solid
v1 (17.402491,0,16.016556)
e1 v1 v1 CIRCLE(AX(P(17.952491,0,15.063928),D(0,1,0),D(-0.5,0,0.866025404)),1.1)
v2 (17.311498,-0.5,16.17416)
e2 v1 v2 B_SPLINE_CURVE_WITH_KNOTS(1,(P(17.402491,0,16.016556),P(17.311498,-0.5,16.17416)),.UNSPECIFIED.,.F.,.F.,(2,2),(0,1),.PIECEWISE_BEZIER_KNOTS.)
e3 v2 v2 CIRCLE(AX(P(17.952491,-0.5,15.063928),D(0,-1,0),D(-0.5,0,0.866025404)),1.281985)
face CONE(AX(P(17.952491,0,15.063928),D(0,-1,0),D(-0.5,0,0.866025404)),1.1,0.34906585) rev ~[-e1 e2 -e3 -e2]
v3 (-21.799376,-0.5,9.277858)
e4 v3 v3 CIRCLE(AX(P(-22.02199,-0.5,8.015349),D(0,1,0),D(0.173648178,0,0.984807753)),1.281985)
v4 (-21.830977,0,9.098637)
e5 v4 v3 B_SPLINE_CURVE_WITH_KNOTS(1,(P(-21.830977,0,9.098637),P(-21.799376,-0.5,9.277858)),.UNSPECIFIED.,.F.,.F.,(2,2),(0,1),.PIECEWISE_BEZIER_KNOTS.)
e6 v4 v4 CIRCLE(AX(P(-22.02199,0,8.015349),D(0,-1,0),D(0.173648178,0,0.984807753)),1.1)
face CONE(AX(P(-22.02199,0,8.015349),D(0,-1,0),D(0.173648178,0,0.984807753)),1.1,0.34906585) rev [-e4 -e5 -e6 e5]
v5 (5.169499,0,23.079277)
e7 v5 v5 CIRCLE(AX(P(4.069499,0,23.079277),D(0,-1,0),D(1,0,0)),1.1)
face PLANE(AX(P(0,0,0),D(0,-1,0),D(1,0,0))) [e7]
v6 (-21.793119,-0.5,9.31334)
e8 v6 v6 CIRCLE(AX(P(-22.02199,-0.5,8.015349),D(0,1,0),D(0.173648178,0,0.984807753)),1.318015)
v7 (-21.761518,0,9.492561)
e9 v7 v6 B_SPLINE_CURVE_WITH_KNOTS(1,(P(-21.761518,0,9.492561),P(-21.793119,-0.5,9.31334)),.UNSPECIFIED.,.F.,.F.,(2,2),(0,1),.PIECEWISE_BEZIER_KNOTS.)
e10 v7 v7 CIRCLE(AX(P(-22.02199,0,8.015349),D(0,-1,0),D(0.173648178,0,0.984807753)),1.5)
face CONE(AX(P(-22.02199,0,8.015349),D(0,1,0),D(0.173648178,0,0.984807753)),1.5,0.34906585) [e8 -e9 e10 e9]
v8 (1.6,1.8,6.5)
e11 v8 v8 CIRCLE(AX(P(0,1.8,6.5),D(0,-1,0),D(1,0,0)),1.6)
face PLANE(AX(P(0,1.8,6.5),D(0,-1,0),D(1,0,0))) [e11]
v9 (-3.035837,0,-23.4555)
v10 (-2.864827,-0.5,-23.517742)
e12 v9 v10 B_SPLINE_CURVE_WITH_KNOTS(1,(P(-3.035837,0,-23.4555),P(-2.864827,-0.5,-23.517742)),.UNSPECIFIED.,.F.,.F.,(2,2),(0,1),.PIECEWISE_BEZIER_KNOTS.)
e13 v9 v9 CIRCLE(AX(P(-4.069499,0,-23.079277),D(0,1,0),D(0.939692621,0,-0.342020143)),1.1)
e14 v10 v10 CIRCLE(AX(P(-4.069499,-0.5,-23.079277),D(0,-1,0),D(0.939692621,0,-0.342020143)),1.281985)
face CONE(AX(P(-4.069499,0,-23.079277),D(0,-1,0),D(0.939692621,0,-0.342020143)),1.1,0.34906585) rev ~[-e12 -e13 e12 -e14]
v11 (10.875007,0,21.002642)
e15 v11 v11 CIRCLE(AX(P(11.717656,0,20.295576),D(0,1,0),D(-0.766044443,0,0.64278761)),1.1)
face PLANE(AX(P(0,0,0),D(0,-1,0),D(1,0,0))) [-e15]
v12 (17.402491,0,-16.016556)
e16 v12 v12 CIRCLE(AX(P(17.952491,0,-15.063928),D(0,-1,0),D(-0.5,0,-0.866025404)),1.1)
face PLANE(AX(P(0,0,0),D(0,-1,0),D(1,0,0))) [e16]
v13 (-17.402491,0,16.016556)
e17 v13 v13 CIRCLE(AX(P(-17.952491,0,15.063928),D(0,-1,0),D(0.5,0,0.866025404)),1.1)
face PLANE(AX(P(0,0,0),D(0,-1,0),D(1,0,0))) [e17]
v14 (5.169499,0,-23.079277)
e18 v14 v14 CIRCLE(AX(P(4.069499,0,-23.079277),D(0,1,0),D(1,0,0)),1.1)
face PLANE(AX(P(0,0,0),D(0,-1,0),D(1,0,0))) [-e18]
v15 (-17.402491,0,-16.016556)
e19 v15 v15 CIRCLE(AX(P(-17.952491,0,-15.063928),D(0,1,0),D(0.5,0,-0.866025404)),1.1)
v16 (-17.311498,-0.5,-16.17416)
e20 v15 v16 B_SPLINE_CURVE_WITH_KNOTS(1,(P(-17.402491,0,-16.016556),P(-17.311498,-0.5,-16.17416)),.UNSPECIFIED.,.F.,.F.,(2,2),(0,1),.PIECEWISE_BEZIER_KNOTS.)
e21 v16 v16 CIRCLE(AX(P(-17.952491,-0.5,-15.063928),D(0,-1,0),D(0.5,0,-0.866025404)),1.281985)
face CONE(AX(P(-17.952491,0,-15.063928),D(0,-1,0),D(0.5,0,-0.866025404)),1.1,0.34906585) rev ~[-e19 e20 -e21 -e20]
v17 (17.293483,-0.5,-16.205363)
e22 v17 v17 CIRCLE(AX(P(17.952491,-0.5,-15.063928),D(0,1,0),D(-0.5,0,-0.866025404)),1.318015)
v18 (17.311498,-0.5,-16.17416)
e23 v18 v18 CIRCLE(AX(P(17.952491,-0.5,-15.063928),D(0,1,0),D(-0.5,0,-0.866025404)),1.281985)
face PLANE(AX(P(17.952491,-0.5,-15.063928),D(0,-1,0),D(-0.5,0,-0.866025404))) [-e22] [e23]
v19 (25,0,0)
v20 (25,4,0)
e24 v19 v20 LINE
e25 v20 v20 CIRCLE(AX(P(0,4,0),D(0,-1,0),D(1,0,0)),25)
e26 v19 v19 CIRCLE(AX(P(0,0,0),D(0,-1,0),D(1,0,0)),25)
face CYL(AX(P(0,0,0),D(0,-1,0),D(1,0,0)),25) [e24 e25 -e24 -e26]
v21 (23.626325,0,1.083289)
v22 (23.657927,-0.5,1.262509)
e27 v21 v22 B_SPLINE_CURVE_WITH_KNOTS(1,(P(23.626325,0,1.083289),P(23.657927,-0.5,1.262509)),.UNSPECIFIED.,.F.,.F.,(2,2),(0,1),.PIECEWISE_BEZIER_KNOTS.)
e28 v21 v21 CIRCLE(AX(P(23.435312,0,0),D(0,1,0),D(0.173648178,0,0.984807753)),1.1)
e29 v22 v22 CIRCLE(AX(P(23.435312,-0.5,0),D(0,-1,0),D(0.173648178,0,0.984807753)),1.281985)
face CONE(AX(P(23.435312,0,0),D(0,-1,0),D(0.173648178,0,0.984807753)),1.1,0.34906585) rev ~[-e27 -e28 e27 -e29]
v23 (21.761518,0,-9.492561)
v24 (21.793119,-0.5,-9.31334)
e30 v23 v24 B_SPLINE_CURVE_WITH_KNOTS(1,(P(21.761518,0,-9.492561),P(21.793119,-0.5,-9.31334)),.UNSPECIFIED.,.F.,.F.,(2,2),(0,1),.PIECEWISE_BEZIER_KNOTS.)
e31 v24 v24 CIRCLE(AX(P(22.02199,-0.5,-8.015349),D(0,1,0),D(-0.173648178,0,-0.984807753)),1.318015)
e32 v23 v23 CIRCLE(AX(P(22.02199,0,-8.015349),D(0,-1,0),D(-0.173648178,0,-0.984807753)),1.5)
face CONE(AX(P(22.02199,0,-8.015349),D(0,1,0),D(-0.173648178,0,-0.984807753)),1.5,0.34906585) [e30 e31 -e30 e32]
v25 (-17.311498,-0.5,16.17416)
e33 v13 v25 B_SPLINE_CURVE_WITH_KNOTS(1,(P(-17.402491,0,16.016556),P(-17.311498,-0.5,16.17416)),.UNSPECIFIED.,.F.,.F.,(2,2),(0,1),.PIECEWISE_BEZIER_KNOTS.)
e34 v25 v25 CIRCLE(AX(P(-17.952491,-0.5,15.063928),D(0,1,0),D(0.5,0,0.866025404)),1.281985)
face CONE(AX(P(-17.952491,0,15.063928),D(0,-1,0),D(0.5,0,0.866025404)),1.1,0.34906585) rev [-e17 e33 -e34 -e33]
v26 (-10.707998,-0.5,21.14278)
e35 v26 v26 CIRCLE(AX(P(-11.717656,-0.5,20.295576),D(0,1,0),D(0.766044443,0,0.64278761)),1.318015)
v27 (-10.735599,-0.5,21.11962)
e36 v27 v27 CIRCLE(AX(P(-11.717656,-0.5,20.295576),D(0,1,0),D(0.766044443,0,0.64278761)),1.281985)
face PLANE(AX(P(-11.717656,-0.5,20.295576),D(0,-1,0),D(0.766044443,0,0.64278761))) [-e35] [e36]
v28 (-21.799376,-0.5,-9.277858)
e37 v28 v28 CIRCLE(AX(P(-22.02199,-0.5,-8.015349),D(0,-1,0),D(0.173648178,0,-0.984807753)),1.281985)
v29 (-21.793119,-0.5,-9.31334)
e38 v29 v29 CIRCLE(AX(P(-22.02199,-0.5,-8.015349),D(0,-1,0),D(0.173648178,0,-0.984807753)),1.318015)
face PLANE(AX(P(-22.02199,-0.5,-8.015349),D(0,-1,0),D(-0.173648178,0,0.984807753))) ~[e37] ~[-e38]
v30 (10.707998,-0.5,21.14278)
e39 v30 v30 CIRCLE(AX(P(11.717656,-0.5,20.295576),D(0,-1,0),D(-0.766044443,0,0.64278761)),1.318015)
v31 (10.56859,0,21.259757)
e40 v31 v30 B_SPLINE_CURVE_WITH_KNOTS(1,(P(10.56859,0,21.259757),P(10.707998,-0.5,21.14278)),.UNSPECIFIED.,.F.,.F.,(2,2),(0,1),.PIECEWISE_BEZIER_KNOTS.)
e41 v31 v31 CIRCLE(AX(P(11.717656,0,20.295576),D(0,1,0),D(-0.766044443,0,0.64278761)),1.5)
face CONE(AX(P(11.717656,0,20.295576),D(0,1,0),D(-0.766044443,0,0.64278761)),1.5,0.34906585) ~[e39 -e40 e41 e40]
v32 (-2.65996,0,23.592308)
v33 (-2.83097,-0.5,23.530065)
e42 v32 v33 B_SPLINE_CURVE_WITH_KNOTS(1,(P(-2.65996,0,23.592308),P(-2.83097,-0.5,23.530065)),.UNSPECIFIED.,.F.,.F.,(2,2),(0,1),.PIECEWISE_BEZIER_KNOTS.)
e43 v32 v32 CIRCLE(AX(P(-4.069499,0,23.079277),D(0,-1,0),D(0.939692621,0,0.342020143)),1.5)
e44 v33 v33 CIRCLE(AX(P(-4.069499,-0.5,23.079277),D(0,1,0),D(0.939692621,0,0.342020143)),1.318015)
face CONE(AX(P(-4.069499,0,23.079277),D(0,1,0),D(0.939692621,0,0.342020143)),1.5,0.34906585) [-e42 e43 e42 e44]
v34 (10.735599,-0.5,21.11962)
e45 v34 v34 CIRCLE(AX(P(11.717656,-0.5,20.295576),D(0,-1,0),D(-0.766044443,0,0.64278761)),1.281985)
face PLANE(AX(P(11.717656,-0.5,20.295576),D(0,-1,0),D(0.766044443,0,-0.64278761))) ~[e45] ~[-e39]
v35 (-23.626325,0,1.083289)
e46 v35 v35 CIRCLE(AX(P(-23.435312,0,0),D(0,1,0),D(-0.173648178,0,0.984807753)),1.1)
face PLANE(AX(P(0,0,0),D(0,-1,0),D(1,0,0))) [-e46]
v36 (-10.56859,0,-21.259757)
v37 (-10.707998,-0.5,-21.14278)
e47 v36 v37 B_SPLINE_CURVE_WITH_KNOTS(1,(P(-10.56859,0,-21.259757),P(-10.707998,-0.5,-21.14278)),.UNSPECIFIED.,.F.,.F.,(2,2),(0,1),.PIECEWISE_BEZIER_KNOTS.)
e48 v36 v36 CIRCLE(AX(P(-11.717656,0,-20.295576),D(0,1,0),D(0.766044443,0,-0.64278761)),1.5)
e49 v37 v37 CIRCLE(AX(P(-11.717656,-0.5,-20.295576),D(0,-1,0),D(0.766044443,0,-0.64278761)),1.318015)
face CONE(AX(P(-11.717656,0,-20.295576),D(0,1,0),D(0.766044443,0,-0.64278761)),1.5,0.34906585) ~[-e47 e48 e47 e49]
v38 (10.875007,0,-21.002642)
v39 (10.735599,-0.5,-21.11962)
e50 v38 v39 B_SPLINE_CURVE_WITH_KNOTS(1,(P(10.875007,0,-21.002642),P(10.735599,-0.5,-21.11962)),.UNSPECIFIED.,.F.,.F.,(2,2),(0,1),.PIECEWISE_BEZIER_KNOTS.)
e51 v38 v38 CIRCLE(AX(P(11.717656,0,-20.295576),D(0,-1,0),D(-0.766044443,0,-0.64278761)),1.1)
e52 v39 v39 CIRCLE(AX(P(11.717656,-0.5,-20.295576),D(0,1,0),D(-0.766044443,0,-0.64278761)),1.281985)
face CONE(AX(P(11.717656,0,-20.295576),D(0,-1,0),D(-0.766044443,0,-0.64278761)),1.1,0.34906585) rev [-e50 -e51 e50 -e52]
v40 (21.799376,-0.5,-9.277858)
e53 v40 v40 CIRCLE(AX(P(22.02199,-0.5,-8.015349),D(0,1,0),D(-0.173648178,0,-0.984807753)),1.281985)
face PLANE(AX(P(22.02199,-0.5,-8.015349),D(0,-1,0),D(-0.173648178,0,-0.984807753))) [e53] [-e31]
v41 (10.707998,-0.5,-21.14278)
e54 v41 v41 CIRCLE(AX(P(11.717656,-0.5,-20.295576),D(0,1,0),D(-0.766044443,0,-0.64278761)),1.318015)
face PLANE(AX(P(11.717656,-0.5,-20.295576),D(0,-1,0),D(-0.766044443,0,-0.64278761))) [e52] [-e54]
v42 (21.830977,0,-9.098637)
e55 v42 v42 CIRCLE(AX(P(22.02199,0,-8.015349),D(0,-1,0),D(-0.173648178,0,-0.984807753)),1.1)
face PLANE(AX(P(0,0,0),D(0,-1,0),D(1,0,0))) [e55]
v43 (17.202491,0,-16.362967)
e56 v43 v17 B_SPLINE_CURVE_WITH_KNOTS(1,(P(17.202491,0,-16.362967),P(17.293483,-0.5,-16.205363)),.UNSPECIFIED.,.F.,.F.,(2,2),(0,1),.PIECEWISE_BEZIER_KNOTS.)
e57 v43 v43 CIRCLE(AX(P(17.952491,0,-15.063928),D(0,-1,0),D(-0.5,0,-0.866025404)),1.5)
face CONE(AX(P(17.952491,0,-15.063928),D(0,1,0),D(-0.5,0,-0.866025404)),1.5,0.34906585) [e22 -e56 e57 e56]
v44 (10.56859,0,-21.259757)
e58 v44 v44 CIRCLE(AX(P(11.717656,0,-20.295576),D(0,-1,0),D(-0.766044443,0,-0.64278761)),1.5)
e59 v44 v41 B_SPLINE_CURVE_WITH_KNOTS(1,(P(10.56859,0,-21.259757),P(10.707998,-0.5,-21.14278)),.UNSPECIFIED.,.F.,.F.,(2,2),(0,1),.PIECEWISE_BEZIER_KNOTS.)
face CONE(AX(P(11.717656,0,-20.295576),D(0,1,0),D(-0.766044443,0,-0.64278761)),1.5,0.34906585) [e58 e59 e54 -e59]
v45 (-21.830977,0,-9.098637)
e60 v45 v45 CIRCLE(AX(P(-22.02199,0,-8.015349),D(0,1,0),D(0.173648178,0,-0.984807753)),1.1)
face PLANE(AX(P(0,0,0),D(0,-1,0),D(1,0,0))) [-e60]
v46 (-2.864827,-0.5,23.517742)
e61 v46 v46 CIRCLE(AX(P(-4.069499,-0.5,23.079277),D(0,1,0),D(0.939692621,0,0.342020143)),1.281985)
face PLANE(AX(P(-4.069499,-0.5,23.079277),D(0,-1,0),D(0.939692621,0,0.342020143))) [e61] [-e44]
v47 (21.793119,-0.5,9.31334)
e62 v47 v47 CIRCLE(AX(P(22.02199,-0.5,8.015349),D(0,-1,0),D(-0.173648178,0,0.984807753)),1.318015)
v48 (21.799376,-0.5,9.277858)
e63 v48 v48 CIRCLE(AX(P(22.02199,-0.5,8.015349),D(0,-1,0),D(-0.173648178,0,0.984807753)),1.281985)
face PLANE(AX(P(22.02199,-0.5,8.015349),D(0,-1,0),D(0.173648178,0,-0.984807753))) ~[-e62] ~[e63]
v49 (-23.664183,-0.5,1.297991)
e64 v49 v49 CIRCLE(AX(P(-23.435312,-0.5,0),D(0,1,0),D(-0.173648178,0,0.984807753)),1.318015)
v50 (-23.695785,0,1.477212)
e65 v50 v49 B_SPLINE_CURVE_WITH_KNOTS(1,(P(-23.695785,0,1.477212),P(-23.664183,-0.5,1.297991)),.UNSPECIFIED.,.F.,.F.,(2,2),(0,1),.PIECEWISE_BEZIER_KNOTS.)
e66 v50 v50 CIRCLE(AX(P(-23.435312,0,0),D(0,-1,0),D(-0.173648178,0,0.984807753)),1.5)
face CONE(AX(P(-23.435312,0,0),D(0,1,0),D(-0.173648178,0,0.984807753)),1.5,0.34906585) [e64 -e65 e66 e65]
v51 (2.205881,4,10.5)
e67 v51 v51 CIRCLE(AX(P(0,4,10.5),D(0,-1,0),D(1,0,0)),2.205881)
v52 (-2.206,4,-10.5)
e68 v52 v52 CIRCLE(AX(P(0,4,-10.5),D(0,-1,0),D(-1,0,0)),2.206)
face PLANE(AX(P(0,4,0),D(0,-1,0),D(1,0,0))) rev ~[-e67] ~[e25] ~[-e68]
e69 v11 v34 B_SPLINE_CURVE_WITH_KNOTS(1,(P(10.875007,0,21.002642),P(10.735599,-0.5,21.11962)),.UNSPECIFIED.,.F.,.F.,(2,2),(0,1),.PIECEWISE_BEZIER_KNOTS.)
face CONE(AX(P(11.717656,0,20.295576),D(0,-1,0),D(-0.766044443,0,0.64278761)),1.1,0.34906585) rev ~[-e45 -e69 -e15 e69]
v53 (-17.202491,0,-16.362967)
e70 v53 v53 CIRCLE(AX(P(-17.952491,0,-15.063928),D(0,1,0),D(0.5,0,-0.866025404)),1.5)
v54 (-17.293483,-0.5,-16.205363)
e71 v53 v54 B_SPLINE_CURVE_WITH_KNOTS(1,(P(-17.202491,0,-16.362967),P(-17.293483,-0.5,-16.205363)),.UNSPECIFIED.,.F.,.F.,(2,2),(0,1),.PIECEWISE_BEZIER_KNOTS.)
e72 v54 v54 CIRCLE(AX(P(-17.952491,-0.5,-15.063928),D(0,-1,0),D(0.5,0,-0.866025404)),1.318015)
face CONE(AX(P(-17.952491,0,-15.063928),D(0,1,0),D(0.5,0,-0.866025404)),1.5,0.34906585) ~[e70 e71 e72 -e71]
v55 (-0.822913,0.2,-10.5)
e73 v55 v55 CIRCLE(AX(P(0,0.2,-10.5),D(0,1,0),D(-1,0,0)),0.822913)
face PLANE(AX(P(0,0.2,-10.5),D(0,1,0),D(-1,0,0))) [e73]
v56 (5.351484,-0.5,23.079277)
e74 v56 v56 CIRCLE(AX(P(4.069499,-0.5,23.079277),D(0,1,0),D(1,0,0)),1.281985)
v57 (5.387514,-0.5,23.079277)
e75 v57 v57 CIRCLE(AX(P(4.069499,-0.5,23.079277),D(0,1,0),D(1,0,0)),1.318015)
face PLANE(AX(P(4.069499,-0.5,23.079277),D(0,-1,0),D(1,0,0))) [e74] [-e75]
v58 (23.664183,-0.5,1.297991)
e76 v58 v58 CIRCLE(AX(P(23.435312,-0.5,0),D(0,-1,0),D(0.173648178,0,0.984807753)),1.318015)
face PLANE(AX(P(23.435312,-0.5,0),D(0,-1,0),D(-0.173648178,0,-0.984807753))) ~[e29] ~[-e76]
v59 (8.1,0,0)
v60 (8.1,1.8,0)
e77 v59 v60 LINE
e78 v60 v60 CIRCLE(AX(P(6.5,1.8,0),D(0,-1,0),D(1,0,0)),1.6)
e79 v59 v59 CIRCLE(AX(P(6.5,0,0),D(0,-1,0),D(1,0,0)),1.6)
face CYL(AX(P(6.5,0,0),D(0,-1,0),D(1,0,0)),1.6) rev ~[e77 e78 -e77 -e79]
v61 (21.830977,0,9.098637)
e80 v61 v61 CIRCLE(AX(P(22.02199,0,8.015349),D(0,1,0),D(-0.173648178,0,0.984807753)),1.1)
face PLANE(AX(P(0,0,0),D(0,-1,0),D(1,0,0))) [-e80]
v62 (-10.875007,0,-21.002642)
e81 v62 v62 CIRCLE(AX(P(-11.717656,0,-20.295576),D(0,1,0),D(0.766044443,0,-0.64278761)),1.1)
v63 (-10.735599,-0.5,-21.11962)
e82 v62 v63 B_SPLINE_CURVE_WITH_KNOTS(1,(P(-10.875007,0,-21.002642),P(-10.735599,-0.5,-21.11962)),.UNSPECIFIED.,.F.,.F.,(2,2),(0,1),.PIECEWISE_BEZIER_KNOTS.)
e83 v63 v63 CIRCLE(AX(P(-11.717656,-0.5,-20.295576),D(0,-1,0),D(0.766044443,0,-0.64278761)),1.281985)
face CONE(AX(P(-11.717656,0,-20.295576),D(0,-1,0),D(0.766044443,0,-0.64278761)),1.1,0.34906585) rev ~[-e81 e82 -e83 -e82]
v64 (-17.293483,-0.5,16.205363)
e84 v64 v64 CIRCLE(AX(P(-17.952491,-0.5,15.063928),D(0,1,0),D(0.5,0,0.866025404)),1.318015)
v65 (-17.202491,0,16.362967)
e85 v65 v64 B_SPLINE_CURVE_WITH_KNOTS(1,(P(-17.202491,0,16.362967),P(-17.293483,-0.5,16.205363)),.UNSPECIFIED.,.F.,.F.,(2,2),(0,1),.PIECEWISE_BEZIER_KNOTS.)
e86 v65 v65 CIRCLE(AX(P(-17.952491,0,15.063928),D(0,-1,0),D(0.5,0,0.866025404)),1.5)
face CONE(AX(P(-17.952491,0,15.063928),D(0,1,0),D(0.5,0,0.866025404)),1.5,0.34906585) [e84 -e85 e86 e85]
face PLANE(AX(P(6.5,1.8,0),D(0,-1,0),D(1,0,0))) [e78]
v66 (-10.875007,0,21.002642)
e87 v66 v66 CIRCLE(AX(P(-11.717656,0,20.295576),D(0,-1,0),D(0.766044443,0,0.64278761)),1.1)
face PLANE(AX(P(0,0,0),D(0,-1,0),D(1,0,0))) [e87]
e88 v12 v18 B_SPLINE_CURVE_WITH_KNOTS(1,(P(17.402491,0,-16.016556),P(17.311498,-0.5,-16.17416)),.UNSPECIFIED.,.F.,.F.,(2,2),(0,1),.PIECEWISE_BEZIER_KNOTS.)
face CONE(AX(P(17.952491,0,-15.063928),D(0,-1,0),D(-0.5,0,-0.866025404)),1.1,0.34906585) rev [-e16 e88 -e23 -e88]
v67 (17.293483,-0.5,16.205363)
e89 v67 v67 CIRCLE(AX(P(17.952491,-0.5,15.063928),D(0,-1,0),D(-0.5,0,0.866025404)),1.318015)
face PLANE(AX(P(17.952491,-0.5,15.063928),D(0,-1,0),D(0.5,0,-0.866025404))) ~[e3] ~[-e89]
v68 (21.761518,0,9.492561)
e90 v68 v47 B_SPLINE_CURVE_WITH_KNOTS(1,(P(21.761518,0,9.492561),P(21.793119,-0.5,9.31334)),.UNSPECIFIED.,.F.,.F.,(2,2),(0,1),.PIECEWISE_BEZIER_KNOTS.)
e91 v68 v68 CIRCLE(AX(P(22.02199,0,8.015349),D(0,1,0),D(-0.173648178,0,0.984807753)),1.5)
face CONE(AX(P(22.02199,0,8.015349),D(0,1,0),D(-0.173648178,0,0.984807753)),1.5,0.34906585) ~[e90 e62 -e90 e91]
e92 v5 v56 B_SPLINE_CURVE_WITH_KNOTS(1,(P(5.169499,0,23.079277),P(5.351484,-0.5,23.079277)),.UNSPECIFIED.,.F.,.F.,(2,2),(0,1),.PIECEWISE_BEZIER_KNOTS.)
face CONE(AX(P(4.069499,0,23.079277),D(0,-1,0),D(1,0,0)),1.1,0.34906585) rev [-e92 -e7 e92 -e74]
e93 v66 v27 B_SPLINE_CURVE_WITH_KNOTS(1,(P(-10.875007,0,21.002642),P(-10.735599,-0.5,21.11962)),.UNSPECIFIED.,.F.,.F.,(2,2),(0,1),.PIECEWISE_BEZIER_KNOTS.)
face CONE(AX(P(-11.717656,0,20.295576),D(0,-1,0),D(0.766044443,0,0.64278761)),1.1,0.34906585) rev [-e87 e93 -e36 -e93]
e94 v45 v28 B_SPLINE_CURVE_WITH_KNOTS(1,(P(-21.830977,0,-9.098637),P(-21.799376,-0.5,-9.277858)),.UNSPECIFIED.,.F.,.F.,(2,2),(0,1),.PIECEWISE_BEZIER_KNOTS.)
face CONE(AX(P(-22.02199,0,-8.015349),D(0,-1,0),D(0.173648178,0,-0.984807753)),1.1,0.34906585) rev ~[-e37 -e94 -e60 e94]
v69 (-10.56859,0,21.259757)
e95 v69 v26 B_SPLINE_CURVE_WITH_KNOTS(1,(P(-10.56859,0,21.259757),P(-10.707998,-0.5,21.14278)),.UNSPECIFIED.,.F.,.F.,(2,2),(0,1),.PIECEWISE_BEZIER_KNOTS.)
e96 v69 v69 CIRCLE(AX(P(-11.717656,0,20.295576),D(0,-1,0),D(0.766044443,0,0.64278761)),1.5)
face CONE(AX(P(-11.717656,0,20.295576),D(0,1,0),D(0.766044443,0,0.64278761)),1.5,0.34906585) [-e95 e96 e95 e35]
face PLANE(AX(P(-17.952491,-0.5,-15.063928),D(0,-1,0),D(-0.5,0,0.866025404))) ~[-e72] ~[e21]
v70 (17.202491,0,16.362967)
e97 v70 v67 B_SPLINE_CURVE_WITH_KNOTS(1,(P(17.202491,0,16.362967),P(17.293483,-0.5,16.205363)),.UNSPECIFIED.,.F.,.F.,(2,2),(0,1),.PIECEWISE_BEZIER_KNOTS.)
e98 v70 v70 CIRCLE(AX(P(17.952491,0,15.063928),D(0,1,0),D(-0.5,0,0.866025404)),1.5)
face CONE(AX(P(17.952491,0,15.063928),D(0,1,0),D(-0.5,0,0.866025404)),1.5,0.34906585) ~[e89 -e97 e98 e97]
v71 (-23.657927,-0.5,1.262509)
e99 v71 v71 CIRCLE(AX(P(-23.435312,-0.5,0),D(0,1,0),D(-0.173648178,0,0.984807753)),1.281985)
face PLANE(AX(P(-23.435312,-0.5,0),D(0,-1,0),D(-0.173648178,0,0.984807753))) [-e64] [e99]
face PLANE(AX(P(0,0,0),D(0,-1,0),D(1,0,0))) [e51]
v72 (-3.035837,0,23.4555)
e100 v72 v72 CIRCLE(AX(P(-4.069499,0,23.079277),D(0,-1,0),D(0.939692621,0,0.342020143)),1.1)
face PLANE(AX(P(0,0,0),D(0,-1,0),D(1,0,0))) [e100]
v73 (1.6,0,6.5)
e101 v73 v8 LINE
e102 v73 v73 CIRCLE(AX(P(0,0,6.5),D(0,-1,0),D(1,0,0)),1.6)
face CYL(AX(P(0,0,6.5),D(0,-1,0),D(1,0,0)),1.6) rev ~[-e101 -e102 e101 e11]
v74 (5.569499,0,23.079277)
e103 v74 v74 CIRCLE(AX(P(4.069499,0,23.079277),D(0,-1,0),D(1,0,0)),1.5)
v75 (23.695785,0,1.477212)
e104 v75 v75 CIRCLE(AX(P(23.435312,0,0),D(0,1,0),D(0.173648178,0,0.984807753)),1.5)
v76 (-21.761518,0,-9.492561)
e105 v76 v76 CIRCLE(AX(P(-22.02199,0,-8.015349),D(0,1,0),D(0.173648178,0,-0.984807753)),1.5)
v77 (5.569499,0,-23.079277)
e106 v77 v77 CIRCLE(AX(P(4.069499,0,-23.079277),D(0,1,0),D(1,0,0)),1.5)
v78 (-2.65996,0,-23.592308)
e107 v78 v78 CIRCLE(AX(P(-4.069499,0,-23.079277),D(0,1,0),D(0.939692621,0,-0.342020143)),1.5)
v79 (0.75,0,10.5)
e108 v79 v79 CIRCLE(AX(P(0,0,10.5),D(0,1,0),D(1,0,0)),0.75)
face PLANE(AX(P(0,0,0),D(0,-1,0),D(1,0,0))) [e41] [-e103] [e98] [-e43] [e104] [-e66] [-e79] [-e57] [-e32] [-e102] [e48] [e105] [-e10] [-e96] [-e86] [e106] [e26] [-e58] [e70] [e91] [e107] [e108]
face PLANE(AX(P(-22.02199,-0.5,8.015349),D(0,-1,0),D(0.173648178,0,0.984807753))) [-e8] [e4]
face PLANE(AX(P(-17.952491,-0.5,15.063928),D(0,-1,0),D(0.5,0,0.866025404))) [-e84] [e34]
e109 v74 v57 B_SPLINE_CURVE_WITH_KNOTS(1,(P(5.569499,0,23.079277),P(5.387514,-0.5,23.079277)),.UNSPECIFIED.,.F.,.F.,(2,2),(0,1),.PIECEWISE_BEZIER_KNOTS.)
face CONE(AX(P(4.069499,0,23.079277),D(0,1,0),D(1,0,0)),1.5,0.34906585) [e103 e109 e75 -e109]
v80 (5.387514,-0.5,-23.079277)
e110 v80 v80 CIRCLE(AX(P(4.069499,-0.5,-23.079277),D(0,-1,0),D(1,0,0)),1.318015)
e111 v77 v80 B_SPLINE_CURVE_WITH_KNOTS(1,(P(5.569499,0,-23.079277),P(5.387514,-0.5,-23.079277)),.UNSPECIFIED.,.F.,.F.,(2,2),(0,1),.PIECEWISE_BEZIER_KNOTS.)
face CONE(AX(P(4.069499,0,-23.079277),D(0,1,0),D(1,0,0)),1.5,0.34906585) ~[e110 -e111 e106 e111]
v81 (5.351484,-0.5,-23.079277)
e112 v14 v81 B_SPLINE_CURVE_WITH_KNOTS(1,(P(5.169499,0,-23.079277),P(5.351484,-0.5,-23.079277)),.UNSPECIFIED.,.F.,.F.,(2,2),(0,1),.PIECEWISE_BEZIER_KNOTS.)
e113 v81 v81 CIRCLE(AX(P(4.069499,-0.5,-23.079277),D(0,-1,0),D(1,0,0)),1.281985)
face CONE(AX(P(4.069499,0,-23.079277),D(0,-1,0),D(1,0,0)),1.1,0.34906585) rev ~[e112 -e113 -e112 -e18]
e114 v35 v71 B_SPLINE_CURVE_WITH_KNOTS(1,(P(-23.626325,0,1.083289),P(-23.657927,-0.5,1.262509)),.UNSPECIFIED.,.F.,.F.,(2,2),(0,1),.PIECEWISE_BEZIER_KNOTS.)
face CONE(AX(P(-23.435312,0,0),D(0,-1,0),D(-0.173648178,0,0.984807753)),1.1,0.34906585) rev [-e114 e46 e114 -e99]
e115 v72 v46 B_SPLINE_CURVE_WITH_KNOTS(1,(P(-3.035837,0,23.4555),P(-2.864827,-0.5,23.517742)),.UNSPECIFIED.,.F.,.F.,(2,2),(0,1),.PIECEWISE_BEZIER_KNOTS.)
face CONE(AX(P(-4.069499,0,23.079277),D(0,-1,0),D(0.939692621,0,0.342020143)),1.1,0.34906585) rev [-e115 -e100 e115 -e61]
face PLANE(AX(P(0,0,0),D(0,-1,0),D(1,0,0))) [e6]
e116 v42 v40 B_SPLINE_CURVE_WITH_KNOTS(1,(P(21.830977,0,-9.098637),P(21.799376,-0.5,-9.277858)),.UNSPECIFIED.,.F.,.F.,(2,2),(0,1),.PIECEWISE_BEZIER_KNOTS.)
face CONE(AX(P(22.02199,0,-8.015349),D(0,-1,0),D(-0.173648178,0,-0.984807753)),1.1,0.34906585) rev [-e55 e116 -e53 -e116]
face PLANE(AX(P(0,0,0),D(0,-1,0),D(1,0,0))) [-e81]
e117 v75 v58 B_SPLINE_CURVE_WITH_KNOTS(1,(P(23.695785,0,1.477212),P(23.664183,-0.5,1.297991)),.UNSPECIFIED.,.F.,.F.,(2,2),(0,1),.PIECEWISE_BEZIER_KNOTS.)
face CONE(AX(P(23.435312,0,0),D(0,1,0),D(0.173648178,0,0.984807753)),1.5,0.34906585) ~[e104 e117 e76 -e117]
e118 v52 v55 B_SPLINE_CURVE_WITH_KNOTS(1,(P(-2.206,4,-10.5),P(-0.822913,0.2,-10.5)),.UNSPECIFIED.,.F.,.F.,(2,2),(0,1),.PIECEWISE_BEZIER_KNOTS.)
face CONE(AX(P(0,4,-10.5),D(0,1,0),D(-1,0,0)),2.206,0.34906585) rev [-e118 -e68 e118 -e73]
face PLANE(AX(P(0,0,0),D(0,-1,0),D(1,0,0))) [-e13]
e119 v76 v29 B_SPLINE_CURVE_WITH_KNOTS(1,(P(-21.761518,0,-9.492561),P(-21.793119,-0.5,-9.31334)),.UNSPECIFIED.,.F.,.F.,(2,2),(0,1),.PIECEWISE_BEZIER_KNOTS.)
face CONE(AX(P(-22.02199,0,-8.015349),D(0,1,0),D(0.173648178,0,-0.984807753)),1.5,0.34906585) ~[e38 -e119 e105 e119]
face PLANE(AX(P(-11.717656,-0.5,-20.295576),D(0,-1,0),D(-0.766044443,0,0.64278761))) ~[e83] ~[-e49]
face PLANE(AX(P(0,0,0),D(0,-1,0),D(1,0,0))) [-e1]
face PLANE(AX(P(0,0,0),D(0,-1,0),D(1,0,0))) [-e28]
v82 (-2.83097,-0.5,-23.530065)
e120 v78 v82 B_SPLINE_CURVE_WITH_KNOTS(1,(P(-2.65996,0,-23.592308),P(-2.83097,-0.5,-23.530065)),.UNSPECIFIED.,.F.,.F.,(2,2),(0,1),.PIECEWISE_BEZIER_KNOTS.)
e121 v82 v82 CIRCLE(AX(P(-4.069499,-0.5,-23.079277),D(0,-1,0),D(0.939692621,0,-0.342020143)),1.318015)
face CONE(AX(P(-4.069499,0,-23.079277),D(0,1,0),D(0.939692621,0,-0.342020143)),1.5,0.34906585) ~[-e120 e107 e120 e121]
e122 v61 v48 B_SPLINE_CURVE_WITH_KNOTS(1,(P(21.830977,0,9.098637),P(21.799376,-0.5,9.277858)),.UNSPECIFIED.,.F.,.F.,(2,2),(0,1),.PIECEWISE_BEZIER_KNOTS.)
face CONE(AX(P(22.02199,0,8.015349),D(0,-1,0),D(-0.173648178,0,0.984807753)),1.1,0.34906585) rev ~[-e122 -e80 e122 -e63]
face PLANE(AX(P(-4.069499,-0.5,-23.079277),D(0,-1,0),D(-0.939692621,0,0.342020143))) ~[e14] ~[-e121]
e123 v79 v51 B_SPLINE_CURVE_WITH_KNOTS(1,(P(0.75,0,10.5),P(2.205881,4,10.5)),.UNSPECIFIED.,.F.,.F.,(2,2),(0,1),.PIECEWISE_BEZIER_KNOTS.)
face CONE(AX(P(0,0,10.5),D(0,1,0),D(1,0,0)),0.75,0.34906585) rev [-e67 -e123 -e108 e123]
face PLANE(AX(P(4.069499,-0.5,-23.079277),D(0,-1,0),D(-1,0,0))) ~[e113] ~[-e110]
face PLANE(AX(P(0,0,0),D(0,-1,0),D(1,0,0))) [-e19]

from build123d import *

# Parameters (mm, degrees)
F0_R      = 25
F1_DEPTH  = 4
F4_R      = 1.5
F4_R_2    = 1.1
F5_DEPTH  = 0.5
F5_TAPER  = 20
F6_ANGLE  = 20
F7_ANGLE  = 20
F8_ANGLE  = 20
F9_ANGLE  = 20
F10_ANGLE = 20
F13_R     = 0.75
F14_DEPTH = 4
F14_TAPER = -20
F15_R     = 2.206
F16_DEPTH = 3.8
F16_TAPER = 20
F3_R      = 1.6
F18_DEPTH = 1.8


with BuildPart() as f1:
    # F0 (on Front) → F1 (new body)
    with BuildSketch(Plane.XZ):
        Circle(F0_R)
    extrude(amount=-F1_DEPTH)



with BuildPart() as f5:
    # F4 (on face) → F5 (new body)
    with BuildSketch(Plane.XZ):
        with Locations((4.0694992911, 23.0792773443)):
            Circle(F4_R)
        with Locations((4.0694992911, 23.0792773443)):
            Circle(F4_R_2, mode=Mode.SUBTRACT)
    extrude(amount=F5_DEPTH, taper=F5_TAPER)


with BuildPart() as f6_1:
    # F6: copy of F5
    add(f5.part.rotate(Axis((0, 0, 0), (0, -1, 0)), F6_ANGLE))


with BuildPart() as f7_1:
    # F7: copy of F6_1
    add(f6_1.part.rotate(Axis((0, 0, 0), (0, -1, 0)), F7_ANGLE))


with BuildPart() as f8_1:
    # F8: copy of F7_1
    add(f7_1.part.rotate(Axis((0, 0, 0), (0, -1, 0)), F8_ANGLE))


with BuildPart() as f9_1:
    # F9: copy of F8_1
    add(f8_1.part.rotate(Axis((0, 0, 0), (0, -1, 0)), F9_ANGLE))


with BuildPart() as f10_1:
    # F10: copy of F9_1
    add(f9_1.part.rotate(Axis((0, 0, 0), (0, -1, 0)), F10_ANGLE))


with BuildPart() as f11_1:
    # F11: instance of F5
    add(f5.part.mirror(Plane.XY))


with BuildPart() as f11_2:
    # F11: instance of F6_1
    add(f6_1.part.mirror(Plane.XY))


with BuildPart() as f11_3:
    # F11: instance of F7_1
    add(f7_1.part.mirror(Plane.XY))


with BuildPart() as f11_4:
    # F11: instance of F8_1
    add(f8_1.part.mirror(Plane.XY))


with BuildPart() as f11_5:
    # F11: instance of F9_1
    add(f9_1.part.mirror(Plane.XY))


with BuildPart() as f11_6:
    # F11: instance of F10_1
    add(f10_1.part.mirror(Plane.XY))


with BuildPart() as f1_1:
    add(f1.part)

    add(f5.part)  # F12 merges F5

    add(f6_1.part)  # F12 merges F6_1

    add(f7_1.part)  # F12 merges F7_1

    add(f8_1.part)  # F12 merges F8_1

    add(f9_1.part)  # F12 merges F9_1

    add(f10_1.part)  # F12 merges F10_1

    add(f11_1.part)  # F12 merges F11_1

    add(f11_2.part)  # F12 merges F11_2

    add(f11_3.part)  # F12 merges F11_3

    add(f11_4.part)  # F12 merges F11_4

    add(f11_5.part)  # F12 merges F11_5

    add(f11_6.part)  # F12 merges F11_6
    # F12: F11_3, F11_4, F11_5, F10_1, F9_1, F8_1, F7_1 across plane
    add(f11_3.part.mirror(Plane.YZ))
    add(f11_4.part.mirror(Plane.YZ))
    add(f11_5.part.mirror(Plane.YZ))
    add(f10_1.part.mirror(Plane.YZ))
    add(f9_1.part.mirror(Plane.YZ))
    add(f8_1.part.mirror(Plane.YZ))
    add(f7_1.part.mirror(Plane.YZ))

    # F15 (on face) → F16 (cut)
    with BuildSketch(Plane(origin=(0, 4, 0), x_dir=(-1, 0, 0), z_dir=(0, 1, 0))):
        with Locations((0, -10.5)):
            Circle(F15_R)
    extrude(amount=-F16_DEPTH, taper=F16_TAPER, mode=Mode.SUBTRACT)


with BuildPart() as f14:
    # F13 (on face) → F14 (new body)
    with BuildSketch(Plane.XZ):
        with Locations((0, 10.5)):
            Circle(F13_R)
    extrude(amount=-F14_DEPTH, taper=F14_TAPER)


with BuildPart() as f1_2:
    add(f1_1.part)

    # F17: cut F14
    add(f14.part, mode=Mode.SUBTRACT)

    # F3 (on face) → F18 (cut)
    with BuildSketch(Plane.XZ):
        with Locations((6.5, 0)):
            Circle(F3_R)
        with Locations((0, 6.5)):
            Circle(F3_R)
    extrude(amount=-F18_DEPTH, mode=Mode.SUBTRACT)


solid = f1_2.part
